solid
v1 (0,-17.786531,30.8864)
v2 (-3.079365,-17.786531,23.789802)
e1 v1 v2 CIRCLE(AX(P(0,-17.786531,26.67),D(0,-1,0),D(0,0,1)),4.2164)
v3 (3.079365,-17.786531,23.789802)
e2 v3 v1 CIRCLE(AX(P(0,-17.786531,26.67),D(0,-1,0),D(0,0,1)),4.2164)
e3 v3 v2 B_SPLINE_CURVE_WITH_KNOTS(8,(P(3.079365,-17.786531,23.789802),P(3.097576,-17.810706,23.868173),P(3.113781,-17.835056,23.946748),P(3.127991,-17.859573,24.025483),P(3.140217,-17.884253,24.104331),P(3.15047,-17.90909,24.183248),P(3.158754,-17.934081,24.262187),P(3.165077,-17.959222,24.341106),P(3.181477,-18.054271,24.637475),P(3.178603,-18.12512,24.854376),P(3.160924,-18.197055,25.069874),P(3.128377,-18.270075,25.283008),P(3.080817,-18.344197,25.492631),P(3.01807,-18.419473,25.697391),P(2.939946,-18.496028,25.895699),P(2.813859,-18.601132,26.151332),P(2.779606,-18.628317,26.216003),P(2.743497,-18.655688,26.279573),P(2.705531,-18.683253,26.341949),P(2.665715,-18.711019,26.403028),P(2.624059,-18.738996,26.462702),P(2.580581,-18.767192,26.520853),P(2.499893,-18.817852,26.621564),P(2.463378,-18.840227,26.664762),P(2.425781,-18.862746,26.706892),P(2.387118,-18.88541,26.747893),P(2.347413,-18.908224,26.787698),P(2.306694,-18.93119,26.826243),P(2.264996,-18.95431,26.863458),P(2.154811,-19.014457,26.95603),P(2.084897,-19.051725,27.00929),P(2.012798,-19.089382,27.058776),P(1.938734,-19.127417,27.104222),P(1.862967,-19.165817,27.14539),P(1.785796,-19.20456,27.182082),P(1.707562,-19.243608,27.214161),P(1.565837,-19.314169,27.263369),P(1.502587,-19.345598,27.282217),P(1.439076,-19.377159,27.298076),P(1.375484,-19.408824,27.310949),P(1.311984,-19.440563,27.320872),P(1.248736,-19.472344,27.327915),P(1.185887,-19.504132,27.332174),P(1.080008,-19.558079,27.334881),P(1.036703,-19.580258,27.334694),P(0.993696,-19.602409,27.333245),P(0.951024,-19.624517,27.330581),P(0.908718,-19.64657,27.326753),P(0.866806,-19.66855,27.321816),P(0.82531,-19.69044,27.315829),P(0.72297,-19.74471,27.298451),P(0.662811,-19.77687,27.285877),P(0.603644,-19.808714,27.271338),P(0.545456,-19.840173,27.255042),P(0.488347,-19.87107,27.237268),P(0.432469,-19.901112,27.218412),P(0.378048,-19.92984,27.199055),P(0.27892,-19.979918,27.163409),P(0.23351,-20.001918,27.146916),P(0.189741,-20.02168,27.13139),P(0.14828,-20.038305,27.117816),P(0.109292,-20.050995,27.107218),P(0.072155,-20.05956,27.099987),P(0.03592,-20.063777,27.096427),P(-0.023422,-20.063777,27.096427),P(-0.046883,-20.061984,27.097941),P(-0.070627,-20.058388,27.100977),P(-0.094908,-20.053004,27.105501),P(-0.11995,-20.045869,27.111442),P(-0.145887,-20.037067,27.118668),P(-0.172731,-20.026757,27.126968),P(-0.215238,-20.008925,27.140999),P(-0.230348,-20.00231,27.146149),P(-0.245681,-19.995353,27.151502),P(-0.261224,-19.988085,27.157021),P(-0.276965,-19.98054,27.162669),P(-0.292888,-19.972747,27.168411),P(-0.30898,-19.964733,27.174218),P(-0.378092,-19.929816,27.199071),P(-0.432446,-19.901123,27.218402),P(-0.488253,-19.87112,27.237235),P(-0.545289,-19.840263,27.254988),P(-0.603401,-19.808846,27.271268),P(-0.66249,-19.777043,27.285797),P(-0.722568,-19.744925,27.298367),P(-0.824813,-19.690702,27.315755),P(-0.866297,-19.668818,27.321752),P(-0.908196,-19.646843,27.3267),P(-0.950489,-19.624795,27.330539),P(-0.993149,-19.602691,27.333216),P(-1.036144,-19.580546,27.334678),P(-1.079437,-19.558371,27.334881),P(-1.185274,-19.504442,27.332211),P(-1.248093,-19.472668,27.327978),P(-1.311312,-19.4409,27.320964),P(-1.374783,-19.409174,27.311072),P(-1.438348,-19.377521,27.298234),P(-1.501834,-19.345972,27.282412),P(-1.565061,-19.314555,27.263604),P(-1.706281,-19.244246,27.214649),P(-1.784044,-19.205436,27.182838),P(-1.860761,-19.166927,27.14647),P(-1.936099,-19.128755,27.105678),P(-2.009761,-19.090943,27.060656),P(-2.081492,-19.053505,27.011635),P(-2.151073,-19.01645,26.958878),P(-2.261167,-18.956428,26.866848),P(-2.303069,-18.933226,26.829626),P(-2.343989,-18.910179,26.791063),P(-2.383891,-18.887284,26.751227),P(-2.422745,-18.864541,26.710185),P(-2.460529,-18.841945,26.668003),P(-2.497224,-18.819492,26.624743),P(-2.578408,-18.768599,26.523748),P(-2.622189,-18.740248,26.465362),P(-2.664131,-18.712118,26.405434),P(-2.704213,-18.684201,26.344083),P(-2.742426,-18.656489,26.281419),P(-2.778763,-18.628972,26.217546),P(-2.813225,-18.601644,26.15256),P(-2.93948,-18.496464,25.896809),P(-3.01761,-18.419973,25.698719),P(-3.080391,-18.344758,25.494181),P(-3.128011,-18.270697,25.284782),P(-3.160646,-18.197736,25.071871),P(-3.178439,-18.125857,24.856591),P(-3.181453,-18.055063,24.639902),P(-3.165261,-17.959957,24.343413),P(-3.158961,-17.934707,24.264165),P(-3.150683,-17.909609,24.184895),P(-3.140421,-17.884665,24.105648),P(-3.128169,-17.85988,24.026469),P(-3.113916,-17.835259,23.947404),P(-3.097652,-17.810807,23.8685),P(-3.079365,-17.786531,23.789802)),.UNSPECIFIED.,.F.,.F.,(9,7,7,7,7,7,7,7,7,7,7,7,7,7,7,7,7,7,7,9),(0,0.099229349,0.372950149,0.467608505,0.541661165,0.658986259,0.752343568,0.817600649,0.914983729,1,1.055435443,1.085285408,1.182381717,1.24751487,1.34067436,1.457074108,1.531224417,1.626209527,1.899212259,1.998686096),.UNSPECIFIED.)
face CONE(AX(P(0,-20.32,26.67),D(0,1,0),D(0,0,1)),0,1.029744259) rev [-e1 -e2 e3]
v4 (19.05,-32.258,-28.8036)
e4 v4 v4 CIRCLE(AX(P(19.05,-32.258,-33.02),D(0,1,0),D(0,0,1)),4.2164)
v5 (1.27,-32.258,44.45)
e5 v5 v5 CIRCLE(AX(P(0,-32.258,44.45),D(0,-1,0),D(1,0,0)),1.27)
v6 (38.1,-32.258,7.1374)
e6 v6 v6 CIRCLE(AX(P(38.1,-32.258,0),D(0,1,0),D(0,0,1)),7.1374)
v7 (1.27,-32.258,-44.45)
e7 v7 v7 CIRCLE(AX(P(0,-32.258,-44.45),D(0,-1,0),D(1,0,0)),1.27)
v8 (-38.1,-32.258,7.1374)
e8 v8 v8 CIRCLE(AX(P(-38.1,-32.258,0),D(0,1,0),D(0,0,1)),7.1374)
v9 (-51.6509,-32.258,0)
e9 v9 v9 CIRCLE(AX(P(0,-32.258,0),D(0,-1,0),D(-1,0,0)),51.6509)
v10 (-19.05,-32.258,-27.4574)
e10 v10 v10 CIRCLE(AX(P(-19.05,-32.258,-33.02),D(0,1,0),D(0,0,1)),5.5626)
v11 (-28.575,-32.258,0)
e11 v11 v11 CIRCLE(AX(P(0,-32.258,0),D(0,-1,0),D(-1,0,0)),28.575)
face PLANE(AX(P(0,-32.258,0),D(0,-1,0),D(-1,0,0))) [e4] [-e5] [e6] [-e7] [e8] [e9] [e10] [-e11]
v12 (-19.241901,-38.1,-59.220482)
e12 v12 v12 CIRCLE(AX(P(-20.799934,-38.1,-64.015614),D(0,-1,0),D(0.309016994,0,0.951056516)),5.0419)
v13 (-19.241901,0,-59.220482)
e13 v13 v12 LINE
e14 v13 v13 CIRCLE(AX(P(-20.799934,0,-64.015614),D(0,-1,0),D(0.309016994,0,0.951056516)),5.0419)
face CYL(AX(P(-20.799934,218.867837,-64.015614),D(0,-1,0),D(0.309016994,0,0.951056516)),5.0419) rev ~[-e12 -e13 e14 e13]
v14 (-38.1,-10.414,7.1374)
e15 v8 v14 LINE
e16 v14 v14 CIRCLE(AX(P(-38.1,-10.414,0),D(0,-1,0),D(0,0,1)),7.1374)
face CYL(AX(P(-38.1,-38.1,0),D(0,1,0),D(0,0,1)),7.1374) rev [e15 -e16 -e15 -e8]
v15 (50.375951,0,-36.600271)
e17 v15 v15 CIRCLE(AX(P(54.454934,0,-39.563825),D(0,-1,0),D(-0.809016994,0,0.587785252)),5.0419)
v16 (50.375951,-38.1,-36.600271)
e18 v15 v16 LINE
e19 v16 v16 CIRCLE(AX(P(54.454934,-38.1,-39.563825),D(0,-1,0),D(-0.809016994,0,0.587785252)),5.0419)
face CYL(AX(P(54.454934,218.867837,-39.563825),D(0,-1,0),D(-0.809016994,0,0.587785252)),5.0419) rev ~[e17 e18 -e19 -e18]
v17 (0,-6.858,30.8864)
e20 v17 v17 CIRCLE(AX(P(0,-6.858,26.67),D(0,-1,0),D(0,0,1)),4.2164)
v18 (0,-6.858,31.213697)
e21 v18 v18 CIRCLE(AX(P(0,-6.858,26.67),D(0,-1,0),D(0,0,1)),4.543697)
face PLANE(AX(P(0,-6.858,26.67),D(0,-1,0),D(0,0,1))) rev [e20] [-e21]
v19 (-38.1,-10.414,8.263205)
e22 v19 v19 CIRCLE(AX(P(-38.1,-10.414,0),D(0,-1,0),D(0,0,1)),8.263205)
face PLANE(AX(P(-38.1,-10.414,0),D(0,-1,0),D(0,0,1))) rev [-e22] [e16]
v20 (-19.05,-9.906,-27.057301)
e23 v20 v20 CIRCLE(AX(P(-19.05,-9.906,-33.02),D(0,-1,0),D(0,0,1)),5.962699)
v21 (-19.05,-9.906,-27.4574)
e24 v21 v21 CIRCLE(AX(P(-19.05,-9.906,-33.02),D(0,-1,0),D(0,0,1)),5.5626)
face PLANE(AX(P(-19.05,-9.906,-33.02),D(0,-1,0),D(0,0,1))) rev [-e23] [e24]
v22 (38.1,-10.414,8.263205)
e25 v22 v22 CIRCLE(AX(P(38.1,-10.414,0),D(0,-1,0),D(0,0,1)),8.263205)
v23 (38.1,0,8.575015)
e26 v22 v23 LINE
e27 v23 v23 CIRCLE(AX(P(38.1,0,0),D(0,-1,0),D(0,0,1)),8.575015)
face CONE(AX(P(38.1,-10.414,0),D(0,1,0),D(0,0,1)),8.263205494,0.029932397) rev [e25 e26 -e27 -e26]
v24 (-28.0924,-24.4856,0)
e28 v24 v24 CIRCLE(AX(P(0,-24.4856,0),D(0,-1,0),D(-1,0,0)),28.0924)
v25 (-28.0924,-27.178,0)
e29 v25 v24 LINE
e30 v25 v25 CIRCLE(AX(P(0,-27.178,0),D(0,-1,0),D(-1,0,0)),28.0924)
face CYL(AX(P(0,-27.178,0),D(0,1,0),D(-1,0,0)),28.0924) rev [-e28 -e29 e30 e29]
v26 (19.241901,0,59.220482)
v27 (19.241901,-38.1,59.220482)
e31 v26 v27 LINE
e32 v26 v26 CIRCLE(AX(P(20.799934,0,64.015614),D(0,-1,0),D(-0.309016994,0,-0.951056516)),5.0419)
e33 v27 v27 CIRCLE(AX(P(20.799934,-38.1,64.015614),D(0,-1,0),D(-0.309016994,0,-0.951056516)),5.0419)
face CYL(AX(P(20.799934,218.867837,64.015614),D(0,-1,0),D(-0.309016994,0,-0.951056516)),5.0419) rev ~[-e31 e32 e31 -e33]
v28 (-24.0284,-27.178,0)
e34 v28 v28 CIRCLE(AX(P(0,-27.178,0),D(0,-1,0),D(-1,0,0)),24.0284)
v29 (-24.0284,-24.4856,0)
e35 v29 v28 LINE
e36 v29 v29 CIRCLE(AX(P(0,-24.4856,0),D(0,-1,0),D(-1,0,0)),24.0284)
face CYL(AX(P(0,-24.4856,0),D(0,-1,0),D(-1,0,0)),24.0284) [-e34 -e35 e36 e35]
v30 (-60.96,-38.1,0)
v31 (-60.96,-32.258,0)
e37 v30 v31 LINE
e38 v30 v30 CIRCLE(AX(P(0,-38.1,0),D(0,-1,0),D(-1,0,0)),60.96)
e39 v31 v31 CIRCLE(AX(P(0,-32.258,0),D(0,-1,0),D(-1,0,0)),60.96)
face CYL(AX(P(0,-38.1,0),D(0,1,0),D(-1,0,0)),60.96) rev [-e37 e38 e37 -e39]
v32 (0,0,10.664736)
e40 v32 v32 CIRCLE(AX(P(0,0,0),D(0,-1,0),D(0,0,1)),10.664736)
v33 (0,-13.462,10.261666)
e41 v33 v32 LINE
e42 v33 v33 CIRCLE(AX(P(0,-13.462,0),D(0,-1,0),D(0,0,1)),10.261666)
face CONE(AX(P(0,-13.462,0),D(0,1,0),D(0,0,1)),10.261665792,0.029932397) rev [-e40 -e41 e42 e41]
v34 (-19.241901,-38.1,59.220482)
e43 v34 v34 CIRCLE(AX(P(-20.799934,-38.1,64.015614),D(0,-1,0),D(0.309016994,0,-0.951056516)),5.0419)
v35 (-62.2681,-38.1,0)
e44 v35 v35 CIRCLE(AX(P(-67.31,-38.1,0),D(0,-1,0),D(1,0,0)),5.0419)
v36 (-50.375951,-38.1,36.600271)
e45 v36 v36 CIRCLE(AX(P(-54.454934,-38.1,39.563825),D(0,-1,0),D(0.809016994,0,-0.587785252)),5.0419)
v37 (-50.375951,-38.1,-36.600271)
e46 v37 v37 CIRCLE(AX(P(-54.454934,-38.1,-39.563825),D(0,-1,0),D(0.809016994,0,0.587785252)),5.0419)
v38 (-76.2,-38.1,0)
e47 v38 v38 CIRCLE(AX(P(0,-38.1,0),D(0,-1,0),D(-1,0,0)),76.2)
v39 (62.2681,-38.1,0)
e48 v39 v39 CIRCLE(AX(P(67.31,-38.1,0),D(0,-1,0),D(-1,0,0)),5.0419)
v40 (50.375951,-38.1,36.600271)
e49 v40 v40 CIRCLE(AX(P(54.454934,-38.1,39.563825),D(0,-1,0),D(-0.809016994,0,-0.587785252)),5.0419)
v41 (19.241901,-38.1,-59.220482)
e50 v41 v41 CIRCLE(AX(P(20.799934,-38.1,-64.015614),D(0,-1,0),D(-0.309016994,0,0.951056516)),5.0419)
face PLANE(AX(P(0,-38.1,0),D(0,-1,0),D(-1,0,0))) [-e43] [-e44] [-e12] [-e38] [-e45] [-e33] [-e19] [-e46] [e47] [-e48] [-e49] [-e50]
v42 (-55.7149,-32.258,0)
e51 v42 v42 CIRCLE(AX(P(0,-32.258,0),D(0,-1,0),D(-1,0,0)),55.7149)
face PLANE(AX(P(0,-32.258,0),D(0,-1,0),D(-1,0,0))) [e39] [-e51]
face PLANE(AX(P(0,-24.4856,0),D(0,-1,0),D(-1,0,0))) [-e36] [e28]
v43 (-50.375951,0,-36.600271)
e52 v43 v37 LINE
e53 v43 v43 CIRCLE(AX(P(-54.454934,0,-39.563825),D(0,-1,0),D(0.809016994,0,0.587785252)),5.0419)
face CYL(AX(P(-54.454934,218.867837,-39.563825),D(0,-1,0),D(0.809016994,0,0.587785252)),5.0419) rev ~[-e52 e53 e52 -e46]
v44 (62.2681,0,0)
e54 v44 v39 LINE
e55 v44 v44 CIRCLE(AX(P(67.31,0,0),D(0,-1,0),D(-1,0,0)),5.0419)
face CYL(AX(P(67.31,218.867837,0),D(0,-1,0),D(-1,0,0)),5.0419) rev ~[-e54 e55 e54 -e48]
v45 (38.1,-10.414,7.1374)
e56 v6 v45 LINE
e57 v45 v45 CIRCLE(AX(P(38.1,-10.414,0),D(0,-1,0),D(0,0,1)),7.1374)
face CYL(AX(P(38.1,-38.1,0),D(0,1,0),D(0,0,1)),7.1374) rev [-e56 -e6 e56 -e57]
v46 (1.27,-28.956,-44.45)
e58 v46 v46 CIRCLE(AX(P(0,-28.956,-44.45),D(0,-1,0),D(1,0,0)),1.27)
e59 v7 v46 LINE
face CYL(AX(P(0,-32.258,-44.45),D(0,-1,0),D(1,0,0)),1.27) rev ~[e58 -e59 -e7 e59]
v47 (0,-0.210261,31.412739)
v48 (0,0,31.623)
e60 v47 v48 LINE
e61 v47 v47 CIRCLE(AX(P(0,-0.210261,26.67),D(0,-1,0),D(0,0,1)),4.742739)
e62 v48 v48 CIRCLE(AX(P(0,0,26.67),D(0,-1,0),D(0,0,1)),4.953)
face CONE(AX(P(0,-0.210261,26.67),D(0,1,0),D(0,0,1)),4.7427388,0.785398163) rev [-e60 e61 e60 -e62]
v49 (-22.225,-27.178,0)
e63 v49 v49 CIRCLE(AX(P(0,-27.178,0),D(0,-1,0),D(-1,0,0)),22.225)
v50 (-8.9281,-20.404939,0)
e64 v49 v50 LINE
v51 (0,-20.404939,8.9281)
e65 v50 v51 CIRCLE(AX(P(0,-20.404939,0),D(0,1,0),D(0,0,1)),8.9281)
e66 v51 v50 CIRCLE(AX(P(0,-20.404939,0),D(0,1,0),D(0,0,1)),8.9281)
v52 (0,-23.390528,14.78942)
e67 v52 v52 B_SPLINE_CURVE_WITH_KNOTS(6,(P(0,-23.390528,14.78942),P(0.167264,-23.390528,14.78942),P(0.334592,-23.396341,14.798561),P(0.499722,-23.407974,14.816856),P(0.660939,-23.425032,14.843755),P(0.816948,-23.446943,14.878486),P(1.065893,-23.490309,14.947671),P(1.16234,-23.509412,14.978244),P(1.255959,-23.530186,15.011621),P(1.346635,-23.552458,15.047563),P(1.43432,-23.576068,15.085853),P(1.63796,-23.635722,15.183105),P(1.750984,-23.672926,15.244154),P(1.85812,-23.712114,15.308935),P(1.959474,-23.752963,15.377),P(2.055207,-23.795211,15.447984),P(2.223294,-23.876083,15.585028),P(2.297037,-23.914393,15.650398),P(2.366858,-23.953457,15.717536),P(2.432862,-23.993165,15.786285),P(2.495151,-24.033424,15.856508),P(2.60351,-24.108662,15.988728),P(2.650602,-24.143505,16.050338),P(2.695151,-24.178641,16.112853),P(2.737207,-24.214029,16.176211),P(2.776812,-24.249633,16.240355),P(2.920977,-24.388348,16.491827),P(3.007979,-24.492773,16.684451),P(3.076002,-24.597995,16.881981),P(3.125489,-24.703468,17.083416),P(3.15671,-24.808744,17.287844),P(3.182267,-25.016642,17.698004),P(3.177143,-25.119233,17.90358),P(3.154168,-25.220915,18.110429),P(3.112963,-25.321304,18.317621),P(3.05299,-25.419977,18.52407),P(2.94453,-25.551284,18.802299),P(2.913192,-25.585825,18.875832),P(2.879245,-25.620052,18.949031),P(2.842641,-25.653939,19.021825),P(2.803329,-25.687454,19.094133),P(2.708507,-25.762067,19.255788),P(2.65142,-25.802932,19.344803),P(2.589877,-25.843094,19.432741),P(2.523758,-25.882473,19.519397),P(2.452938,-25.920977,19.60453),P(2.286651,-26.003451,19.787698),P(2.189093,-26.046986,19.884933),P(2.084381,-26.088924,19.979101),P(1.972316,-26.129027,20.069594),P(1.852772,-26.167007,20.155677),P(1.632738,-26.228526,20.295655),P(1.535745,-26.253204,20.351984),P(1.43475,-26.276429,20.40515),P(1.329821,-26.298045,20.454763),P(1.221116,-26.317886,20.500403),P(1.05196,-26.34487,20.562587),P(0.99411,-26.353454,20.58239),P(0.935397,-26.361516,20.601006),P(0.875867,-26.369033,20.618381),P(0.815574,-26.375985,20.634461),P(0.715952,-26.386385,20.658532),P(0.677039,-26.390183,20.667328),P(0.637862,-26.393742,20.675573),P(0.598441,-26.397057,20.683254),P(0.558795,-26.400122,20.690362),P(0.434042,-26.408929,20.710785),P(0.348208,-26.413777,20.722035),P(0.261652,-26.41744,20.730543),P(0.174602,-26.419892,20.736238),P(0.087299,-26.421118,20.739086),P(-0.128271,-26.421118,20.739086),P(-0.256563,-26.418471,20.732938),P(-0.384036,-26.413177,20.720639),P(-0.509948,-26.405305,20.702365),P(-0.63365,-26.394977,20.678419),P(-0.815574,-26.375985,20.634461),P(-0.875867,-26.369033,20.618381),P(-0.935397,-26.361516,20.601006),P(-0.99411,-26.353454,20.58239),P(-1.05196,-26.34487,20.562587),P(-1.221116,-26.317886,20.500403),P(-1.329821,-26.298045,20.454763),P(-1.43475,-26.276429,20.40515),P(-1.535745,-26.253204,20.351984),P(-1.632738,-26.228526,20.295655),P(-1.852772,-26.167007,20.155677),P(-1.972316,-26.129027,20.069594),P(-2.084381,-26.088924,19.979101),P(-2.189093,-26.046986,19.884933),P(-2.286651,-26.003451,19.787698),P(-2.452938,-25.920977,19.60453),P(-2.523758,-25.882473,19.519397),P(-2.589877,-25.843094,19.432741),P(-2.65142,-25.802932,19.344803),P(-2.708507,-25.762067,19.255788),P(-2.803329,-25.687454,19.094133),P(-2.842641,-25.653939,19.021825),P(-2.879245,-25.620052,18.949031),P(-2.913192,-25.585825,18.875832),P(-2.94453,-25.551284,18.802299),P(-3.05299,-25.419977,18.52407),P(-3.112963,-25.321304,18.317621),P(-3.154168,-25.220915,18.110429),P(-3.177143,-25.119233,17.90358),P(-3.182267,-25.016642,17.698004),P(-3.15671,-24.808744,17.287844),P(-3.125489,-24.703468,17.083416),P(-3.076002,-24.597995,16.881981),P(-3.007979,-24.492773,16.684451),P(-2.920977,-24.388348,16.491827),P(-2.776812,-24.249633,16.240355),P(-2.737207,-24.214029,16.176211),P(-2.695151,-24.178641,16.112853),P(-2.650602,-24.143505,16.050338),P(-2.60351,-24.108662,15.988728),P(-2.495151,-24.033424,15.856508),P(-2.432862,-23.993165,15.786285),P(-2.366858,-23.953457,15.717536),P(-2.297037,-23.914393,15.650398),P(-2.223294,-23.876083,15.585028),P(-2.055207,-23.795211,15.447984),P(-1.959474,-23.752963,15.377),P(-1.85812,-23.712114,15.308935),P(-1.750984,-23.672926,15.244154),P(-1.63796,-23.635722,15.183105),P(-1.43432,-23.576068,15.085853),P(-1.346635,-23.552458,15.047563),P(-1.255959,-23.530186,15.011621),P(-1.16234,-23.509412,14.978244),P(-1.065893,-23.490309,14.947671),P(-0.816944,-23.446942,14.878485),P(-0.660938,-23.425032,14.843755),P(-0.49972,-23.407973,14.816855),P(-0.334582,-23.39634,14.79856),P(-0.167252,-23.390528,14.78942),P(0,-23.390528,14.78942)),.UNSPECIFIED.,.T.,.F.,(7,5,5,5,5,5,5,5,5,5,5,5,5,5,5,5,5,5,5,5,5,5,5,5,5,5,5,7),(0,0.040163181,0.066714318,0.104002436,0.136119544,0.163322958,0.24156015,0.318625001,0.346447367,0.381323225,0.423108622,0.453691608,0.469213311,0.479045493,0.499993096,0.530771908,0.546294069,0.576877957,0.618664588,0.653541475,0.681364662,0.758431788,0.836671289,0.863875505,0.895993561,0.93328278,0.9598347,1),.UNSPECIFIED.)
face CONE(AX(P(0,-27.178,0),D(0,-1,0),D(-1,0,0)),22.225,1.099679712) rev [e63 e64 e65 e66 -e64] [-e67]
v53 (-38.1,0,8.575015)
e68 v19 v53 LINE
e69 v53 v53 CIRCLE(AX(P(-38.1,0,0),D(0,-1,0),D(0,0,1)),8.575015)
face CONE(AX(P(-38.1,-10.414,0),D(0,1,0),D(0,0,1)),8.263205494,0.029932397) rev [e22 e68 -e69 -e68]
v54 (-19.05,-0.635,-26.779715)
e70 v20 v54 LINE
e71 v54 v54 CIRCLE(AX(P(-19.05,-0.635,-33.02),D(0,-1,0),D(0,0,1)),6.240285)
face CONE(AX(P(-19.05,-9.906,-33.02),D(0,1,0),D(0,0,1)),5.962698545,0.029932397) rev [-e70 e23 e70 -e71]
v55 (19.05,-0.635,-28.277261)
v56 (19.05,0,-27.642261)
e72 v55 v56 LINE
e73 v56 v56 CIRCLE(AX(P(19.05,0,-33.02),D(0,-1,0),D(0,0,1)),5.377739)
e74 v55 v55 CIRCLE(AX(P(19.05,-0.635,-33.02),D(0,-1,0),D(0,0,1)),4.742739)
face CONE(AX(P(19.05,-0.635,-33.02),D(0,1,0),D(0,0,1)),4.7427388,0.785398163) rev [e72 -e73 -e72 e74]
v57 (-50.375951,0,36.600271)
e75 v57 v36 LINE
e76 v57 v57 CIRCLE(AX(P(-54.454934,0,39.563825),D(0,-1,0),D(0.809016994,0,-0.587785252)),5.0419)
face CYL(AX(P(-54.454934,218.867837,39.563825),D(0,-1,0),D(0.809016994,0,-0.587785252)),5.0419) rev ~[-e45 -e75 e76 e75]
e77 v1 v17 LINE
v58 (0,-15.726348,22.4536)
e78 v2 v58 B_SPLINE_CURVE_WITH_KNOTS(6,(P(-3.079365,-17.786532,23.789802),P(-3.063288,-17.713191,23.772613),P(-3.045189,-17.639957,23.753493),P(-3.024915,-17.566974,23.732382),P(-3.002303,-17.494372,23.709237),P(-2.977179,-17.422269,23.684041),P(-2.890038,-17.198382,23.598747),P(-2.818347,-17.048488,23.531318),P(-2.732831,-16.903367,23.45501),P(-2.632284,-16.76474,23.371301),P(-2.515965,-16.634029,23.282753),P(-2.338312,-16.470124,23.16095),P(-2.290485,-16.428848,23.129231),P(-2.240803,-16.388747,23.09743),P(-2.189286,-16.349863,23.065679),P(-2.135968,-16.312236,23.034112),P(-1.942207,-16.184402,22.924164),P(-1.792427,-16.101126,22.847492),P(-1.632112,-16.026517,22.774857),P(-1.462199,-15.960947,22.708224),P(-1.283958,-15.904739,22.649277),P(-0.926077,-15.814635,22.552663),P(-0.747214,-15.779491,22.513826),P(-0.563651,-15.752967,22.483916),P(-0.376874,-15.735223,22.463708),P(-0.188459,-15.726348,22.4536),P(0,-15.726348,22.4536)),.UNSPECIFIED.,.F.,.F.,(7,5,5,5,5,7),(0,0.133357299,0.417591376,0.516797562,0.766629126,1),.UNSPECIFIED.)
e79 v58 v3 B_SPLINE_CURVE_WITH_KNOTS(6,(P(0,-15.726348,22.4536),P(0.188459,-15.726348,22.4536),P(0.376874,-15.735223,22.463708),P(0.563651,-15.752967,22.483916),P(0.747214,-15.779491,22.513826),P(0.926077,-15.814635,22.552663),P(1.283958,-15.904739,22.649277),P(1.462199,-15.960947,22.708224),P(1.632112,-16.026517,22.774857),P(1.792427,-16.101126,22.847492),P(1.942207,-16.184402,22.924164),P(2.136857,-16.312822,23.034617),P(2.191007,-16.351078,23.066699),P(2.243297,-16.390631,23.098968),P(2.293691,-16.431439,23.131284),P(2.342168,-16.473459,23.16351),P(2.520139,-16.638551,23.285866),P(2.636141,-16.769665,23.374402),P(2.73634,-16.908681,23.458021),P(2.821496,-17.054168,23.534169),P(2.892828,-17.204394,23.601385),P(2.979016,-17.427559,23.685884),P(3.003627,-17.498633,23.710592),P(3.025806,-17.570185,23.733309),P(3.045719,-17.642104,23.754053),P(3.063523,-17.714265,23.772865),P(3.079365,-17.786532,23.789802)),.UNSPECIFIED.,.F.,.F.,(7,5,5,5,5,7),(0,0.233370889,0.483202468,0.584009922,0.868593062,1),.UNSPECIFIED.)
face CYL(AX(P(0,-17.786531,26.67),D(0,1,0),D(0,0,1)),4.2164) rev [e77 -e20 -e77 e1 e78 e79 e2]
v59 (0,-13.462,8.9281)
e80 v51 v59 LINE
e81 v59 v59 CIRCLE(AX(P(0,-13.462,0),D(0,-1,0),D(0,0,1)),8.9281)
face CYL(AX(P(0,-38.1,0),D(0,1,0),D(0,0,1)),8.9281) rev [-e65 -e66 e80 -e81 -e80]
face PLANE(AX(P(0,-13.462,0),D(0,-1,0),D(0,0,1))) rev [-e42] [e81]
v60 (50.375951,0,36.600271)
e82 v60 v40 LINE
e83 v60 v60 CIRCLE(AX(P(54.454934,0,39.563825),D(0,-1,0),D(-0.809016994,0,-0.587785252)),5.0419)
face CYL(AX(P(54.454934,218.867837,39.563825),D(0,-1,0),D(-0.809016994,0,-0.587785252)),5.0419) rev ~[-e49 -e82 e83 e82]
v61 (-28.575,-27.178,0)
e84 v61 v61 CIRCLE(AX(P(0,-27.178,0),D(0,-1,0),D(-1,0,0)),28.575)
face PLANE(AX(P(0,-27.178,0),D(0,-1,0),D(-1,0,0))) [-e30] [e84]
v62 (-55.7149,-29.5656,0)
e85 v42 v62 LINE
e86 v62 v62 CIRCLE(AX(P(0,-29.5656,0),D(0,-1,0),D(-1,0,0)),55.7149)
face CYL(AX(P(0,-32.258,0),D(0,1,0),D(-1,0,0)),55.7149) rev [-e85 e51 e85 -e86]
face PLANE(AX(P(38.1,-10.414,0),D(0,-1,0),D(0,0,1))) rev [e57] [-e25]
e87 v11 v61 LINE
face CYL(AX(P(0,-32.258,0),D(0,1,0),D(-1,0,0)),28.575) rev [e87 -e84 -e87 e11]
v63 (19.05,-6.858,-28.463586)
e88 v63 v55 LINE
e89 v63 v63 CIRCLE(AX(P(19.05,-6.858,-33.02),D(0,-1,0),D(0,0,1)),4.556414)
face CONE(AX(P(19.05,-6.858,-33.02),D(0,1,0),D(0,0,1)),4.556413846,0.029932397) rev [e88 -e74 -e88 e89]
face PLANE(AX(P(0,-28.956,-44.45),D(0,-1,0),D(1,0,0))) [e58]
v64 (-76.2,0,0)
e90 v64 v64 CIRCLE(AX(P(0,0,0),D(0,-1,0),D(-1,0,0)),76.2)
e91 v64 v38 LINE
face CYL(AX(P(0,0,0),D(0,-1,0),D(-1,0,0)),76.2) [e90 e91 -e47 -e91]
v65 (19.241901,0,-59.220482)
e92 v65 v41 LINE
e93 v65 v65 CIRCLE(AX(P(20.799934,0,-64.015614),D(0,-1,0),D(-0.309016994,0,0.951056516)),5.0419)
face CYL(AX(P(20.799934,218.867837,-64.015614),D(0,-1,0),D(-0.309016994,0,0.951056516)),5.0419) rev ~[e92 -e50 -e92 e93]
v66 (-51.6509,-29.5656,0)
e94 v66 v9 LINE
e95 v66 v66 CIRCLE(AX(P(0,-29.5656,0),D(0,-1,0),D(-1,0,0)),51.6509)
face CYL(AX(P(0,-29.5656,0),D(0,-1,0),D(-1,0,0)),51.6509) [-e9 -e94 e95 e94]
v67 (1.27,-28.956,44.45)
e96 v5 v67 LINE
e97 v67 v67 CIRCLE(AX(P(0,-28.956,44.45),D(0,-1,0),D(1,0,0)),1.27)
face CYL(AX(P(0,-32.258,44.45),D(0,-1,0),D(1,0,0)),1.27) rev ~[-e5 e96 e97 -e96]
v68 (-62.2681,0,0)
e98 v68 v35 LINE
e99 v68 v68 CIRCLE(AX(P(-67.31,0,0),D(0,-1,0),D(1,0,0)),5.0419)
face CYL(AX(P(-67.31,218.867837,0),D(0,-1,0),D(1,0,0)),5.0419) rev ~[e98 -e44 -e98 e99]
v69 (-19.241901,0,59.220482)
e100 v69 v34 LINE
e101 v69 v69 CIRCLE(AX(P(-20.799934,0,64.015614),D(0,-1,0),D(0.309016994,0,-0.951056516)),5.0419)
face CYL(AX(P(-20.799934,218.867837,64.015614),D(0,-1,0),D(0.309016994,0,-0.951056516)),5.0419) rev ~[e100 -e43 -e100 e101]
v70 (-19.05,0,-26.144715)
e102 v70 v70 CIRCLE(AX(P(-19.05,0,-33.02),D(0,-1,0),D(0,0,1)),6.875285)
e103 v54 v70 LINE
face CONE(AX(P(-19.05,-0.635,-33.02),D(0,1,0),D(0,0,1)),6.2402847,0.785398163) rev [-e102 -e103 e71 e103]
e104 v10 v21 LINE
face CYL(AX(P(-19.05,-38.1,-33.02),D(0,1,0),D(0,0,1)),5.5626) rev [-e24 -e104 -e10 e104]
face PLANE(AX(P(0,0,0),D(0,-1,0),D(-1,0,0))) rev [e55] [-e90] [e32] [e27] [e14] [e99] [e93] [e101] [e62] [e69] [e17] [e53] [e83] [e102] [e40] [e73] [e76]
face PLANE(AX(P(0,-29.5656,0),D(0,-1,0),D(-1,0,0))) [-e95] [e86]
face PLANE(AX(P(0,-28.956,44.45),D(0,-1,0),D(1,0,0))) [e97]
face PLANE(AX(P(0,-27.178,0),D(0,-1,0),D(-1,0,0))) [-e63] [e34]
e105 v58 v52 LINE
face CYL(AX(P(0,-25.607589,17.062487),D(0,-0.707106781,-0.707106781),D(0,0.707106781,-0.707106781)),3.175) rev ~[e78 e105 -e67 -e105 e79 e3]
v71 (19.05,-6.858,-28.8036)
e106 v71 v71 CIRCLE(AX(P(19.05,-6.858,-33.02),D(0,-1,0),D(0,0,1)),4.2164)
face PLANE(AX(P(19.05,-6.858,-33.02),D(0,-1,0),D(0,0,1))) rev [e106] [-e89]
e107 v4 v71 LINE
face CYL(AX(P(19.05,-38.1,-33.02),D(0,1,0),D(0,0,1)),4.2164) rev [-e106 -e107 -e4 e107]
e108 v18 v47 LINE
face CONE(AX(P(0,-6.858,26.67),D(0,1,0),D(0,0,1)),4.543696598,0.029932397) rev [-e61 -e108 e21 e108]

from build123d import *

# Parameters (mm, degrees)
F_3_8_NPT_TAPPED_HOLE1_AT_2_COUNT = 2
F_3_8_NPT_TAPPED_HOLE1_AT_2_PITCH = 76.2
F_3_8_CLEARANCE_HOLE2_D           = 10.0838
CIRPATTERN1_COUNT                 = 10
SKETCH15_R                        = 3.175
CUT_EXTRUDE1_DEPTH                = 12.7
SKETCH18_R                        = 1.27
CUT_EXTRUDE2_DEPTH                = 3.302


with BuildPart() as part:
    # Sketch1 → Revolve1 (revolve)
    with BuildSketch(Plane.XY):
        Polygon((0, 0), (-76.2, 0), (-76.2, -38.1), (-60.96, -38.1), (-60.96, -32.258), (-55.7149, -32.258), (-55.7149, -29.5656), (-51.6509, -29.5656), (-51.6509, -32.258), (-32.163982831, -32.258), (-30.364664072, -32.258), (-28.575, -32.258), (-28.575, -27.178), (-28.0924, -27.178), (-28.0924, -24.4856), (-24.0284, -24.4856), (-24.0284, -27.178), (-22.225, -27.178), (0, -15.85722), align=None)
    revolve(axis=Axis((0, 0, 0), (0, -1, 0)))

    # Sketch3 → 1/2 NPT Tapped Hole1 (revolve, cut)
    with BuildSketch(Plane(origin=(0, 0, 0), x_dir=(0, 0, 1), z_dir=(1, 0, 0))):
        Polygon((0, 0), (0, 38.1), (8.9281, 38.1), (8.9281, 13.462), (10.261665792, 13.462), (10.6647361, 0), align=None)
    revolve(axis=Axis((0, 6.35, 0), (0, -1, 0)), mode=Mode.SUBTRACT)

    # Sketch5 → 3/8 NPT Tapped Hole1 (revolve, cut)
    with BuildSketch(Plane(origin=(-38.1, 0, 0), x_dir=(0, 0, 1), z_dir=(1, 0, 0))):
        Polygon((0, 0), (0, 38.1), (7.1374, 38.1), (7.1374, 10.414), (8.263205494, 10.414), (8.5750146, 0), align=None)
    f_3_8_npt_tapped_hole1 = revolve(axis=Axis((-38.1, 6.35, 0), (0, -1, 0)), mode=Mode.SUBTRACT)

    # 3/8 NPT Tapped Hole1 at 2: 3/8 NPT Tapped Hole1 ×2
    with Locations(*[(i * F_3_8_NPT_TAPPED_HOLE1_AT_2_PITCH, 0, 0) for i in range(1, F_3_8_NPT_TAPPED_HOLE1_AT_2_COUNT)]):
        add(f_3_8_npt_tapped_hole1, mode=Mode.SUBTRACT)

    # 3/8 Clearance Hole2 (through all)
    with Locations(Plane(origin=(67.31, 0, 0), x_dir=(1, 0, 0), z_dir=(0, 1, 0))):
        with Locations((0, 0)):
            f_3_8_clearance_hole2 = Hole(F_3_8_CLEARANCE_HOLE2_D / 2)

    # CirPattern1: 3/8 Clearance Hole2 ×10 about axis
    cirpattern1_axis = Axis((0, 0, 0), (0, 1, 0))
    for i in range(1, CIRPATTERN1_COUNT):
        add(f_3_8_clearance_hole2.rotate(cirpattern1_axis, i * 360 / CIRPATTERN1_COUNT), mode=Mode.SUBTRACT)

    # Sketch7 → 1/8 NPT Tapped Hole2 (revolve, cut)
    with BuildSketch(Plane(origin=(19.05, 0, -33.02), x_dir=(0, 0, 1), z_dir=(1, 0, 0))):
        Polygon((0, 0), (0, 38.1), (4.2164, 38.1), (4.2164, 6.858), (4.556413846, 6.858), (4.7427388, 0.635), (5.3777388, 0), align=None)
    revolve(axis=Axis((19.05, 6.35, -33.02), (0, -1, 0)), mode=Mode.SUBTRACT)

    # Sketch15 → Cut-Extrude1 (cut, symmetric)
    with BuildSketch(Plane(origin=(0, -4.272551224, -4.272551224), x_dir=(0, 0.7071067811865489, -0.7071067811865461), z_dir=(0, -0.7071067811865461, -0.7071067811865489))):
        with Locations((-30.172299887, 0)):
            Circle(SKETCH15_R)
    extrude(amount=CUT_EXTRUDE1_DEPTH, both=True, mode=Mode.SUBTRACT)

    # Sketch12 → 1/8 NPT Tapped Hole3 (revolve, cut)
    with BuildSketch(Plane(origin=(0, 0, 26.67), x_dir=(0, 0, 1), z_dir=(1, 0, 0))):
        Polygon((0, 0), (0, 20.32), (4.2164, 17.786531286), (4.2164, 6.858), (4.543696598, 6.858), (4.7427388, 0.2102612), (4.953, 0), align=None)
    revolve(axis=Axis((0, 6.35, 26.67), (0, -1, 0)), mode=Mode.SUBTRACT)

    # Sketch17 → 1/4 NPT Tapped Hole1 (revolve, cut)
    with BuildSketch(Plane(origin=(-19.05, 0, -33.02), x_dir=(0, 0, 1), z_dir=(1, 0, 0))):
        Polygon((0, 0), (0, 38.1), (5.5626, 38.1), (5.5626, 9.906), (5.962698545, 9.906), (6.2402847, 0.635), (6.8752847, 0), align=None)
    revolve(axis=Axis((-19.05, 6.35, -33.02), (0, -1, 0)), mode=Mode.SUBTRACT)

    # Sketch18 → Cut-Extrude2 (cut)
    with BuildSketch(Plane.XZ.offset(32.258)):
        with Locations((0, 44.45)):
            Circle(SKETCH18_R)
        with Locations((0, -44.45)):
            Circle(SKETCH18_R)
    extrude(amount=-CUT_EXTRUDE2_DEPTH, mode=Mode.SUBTRACT)


solid = part.part
